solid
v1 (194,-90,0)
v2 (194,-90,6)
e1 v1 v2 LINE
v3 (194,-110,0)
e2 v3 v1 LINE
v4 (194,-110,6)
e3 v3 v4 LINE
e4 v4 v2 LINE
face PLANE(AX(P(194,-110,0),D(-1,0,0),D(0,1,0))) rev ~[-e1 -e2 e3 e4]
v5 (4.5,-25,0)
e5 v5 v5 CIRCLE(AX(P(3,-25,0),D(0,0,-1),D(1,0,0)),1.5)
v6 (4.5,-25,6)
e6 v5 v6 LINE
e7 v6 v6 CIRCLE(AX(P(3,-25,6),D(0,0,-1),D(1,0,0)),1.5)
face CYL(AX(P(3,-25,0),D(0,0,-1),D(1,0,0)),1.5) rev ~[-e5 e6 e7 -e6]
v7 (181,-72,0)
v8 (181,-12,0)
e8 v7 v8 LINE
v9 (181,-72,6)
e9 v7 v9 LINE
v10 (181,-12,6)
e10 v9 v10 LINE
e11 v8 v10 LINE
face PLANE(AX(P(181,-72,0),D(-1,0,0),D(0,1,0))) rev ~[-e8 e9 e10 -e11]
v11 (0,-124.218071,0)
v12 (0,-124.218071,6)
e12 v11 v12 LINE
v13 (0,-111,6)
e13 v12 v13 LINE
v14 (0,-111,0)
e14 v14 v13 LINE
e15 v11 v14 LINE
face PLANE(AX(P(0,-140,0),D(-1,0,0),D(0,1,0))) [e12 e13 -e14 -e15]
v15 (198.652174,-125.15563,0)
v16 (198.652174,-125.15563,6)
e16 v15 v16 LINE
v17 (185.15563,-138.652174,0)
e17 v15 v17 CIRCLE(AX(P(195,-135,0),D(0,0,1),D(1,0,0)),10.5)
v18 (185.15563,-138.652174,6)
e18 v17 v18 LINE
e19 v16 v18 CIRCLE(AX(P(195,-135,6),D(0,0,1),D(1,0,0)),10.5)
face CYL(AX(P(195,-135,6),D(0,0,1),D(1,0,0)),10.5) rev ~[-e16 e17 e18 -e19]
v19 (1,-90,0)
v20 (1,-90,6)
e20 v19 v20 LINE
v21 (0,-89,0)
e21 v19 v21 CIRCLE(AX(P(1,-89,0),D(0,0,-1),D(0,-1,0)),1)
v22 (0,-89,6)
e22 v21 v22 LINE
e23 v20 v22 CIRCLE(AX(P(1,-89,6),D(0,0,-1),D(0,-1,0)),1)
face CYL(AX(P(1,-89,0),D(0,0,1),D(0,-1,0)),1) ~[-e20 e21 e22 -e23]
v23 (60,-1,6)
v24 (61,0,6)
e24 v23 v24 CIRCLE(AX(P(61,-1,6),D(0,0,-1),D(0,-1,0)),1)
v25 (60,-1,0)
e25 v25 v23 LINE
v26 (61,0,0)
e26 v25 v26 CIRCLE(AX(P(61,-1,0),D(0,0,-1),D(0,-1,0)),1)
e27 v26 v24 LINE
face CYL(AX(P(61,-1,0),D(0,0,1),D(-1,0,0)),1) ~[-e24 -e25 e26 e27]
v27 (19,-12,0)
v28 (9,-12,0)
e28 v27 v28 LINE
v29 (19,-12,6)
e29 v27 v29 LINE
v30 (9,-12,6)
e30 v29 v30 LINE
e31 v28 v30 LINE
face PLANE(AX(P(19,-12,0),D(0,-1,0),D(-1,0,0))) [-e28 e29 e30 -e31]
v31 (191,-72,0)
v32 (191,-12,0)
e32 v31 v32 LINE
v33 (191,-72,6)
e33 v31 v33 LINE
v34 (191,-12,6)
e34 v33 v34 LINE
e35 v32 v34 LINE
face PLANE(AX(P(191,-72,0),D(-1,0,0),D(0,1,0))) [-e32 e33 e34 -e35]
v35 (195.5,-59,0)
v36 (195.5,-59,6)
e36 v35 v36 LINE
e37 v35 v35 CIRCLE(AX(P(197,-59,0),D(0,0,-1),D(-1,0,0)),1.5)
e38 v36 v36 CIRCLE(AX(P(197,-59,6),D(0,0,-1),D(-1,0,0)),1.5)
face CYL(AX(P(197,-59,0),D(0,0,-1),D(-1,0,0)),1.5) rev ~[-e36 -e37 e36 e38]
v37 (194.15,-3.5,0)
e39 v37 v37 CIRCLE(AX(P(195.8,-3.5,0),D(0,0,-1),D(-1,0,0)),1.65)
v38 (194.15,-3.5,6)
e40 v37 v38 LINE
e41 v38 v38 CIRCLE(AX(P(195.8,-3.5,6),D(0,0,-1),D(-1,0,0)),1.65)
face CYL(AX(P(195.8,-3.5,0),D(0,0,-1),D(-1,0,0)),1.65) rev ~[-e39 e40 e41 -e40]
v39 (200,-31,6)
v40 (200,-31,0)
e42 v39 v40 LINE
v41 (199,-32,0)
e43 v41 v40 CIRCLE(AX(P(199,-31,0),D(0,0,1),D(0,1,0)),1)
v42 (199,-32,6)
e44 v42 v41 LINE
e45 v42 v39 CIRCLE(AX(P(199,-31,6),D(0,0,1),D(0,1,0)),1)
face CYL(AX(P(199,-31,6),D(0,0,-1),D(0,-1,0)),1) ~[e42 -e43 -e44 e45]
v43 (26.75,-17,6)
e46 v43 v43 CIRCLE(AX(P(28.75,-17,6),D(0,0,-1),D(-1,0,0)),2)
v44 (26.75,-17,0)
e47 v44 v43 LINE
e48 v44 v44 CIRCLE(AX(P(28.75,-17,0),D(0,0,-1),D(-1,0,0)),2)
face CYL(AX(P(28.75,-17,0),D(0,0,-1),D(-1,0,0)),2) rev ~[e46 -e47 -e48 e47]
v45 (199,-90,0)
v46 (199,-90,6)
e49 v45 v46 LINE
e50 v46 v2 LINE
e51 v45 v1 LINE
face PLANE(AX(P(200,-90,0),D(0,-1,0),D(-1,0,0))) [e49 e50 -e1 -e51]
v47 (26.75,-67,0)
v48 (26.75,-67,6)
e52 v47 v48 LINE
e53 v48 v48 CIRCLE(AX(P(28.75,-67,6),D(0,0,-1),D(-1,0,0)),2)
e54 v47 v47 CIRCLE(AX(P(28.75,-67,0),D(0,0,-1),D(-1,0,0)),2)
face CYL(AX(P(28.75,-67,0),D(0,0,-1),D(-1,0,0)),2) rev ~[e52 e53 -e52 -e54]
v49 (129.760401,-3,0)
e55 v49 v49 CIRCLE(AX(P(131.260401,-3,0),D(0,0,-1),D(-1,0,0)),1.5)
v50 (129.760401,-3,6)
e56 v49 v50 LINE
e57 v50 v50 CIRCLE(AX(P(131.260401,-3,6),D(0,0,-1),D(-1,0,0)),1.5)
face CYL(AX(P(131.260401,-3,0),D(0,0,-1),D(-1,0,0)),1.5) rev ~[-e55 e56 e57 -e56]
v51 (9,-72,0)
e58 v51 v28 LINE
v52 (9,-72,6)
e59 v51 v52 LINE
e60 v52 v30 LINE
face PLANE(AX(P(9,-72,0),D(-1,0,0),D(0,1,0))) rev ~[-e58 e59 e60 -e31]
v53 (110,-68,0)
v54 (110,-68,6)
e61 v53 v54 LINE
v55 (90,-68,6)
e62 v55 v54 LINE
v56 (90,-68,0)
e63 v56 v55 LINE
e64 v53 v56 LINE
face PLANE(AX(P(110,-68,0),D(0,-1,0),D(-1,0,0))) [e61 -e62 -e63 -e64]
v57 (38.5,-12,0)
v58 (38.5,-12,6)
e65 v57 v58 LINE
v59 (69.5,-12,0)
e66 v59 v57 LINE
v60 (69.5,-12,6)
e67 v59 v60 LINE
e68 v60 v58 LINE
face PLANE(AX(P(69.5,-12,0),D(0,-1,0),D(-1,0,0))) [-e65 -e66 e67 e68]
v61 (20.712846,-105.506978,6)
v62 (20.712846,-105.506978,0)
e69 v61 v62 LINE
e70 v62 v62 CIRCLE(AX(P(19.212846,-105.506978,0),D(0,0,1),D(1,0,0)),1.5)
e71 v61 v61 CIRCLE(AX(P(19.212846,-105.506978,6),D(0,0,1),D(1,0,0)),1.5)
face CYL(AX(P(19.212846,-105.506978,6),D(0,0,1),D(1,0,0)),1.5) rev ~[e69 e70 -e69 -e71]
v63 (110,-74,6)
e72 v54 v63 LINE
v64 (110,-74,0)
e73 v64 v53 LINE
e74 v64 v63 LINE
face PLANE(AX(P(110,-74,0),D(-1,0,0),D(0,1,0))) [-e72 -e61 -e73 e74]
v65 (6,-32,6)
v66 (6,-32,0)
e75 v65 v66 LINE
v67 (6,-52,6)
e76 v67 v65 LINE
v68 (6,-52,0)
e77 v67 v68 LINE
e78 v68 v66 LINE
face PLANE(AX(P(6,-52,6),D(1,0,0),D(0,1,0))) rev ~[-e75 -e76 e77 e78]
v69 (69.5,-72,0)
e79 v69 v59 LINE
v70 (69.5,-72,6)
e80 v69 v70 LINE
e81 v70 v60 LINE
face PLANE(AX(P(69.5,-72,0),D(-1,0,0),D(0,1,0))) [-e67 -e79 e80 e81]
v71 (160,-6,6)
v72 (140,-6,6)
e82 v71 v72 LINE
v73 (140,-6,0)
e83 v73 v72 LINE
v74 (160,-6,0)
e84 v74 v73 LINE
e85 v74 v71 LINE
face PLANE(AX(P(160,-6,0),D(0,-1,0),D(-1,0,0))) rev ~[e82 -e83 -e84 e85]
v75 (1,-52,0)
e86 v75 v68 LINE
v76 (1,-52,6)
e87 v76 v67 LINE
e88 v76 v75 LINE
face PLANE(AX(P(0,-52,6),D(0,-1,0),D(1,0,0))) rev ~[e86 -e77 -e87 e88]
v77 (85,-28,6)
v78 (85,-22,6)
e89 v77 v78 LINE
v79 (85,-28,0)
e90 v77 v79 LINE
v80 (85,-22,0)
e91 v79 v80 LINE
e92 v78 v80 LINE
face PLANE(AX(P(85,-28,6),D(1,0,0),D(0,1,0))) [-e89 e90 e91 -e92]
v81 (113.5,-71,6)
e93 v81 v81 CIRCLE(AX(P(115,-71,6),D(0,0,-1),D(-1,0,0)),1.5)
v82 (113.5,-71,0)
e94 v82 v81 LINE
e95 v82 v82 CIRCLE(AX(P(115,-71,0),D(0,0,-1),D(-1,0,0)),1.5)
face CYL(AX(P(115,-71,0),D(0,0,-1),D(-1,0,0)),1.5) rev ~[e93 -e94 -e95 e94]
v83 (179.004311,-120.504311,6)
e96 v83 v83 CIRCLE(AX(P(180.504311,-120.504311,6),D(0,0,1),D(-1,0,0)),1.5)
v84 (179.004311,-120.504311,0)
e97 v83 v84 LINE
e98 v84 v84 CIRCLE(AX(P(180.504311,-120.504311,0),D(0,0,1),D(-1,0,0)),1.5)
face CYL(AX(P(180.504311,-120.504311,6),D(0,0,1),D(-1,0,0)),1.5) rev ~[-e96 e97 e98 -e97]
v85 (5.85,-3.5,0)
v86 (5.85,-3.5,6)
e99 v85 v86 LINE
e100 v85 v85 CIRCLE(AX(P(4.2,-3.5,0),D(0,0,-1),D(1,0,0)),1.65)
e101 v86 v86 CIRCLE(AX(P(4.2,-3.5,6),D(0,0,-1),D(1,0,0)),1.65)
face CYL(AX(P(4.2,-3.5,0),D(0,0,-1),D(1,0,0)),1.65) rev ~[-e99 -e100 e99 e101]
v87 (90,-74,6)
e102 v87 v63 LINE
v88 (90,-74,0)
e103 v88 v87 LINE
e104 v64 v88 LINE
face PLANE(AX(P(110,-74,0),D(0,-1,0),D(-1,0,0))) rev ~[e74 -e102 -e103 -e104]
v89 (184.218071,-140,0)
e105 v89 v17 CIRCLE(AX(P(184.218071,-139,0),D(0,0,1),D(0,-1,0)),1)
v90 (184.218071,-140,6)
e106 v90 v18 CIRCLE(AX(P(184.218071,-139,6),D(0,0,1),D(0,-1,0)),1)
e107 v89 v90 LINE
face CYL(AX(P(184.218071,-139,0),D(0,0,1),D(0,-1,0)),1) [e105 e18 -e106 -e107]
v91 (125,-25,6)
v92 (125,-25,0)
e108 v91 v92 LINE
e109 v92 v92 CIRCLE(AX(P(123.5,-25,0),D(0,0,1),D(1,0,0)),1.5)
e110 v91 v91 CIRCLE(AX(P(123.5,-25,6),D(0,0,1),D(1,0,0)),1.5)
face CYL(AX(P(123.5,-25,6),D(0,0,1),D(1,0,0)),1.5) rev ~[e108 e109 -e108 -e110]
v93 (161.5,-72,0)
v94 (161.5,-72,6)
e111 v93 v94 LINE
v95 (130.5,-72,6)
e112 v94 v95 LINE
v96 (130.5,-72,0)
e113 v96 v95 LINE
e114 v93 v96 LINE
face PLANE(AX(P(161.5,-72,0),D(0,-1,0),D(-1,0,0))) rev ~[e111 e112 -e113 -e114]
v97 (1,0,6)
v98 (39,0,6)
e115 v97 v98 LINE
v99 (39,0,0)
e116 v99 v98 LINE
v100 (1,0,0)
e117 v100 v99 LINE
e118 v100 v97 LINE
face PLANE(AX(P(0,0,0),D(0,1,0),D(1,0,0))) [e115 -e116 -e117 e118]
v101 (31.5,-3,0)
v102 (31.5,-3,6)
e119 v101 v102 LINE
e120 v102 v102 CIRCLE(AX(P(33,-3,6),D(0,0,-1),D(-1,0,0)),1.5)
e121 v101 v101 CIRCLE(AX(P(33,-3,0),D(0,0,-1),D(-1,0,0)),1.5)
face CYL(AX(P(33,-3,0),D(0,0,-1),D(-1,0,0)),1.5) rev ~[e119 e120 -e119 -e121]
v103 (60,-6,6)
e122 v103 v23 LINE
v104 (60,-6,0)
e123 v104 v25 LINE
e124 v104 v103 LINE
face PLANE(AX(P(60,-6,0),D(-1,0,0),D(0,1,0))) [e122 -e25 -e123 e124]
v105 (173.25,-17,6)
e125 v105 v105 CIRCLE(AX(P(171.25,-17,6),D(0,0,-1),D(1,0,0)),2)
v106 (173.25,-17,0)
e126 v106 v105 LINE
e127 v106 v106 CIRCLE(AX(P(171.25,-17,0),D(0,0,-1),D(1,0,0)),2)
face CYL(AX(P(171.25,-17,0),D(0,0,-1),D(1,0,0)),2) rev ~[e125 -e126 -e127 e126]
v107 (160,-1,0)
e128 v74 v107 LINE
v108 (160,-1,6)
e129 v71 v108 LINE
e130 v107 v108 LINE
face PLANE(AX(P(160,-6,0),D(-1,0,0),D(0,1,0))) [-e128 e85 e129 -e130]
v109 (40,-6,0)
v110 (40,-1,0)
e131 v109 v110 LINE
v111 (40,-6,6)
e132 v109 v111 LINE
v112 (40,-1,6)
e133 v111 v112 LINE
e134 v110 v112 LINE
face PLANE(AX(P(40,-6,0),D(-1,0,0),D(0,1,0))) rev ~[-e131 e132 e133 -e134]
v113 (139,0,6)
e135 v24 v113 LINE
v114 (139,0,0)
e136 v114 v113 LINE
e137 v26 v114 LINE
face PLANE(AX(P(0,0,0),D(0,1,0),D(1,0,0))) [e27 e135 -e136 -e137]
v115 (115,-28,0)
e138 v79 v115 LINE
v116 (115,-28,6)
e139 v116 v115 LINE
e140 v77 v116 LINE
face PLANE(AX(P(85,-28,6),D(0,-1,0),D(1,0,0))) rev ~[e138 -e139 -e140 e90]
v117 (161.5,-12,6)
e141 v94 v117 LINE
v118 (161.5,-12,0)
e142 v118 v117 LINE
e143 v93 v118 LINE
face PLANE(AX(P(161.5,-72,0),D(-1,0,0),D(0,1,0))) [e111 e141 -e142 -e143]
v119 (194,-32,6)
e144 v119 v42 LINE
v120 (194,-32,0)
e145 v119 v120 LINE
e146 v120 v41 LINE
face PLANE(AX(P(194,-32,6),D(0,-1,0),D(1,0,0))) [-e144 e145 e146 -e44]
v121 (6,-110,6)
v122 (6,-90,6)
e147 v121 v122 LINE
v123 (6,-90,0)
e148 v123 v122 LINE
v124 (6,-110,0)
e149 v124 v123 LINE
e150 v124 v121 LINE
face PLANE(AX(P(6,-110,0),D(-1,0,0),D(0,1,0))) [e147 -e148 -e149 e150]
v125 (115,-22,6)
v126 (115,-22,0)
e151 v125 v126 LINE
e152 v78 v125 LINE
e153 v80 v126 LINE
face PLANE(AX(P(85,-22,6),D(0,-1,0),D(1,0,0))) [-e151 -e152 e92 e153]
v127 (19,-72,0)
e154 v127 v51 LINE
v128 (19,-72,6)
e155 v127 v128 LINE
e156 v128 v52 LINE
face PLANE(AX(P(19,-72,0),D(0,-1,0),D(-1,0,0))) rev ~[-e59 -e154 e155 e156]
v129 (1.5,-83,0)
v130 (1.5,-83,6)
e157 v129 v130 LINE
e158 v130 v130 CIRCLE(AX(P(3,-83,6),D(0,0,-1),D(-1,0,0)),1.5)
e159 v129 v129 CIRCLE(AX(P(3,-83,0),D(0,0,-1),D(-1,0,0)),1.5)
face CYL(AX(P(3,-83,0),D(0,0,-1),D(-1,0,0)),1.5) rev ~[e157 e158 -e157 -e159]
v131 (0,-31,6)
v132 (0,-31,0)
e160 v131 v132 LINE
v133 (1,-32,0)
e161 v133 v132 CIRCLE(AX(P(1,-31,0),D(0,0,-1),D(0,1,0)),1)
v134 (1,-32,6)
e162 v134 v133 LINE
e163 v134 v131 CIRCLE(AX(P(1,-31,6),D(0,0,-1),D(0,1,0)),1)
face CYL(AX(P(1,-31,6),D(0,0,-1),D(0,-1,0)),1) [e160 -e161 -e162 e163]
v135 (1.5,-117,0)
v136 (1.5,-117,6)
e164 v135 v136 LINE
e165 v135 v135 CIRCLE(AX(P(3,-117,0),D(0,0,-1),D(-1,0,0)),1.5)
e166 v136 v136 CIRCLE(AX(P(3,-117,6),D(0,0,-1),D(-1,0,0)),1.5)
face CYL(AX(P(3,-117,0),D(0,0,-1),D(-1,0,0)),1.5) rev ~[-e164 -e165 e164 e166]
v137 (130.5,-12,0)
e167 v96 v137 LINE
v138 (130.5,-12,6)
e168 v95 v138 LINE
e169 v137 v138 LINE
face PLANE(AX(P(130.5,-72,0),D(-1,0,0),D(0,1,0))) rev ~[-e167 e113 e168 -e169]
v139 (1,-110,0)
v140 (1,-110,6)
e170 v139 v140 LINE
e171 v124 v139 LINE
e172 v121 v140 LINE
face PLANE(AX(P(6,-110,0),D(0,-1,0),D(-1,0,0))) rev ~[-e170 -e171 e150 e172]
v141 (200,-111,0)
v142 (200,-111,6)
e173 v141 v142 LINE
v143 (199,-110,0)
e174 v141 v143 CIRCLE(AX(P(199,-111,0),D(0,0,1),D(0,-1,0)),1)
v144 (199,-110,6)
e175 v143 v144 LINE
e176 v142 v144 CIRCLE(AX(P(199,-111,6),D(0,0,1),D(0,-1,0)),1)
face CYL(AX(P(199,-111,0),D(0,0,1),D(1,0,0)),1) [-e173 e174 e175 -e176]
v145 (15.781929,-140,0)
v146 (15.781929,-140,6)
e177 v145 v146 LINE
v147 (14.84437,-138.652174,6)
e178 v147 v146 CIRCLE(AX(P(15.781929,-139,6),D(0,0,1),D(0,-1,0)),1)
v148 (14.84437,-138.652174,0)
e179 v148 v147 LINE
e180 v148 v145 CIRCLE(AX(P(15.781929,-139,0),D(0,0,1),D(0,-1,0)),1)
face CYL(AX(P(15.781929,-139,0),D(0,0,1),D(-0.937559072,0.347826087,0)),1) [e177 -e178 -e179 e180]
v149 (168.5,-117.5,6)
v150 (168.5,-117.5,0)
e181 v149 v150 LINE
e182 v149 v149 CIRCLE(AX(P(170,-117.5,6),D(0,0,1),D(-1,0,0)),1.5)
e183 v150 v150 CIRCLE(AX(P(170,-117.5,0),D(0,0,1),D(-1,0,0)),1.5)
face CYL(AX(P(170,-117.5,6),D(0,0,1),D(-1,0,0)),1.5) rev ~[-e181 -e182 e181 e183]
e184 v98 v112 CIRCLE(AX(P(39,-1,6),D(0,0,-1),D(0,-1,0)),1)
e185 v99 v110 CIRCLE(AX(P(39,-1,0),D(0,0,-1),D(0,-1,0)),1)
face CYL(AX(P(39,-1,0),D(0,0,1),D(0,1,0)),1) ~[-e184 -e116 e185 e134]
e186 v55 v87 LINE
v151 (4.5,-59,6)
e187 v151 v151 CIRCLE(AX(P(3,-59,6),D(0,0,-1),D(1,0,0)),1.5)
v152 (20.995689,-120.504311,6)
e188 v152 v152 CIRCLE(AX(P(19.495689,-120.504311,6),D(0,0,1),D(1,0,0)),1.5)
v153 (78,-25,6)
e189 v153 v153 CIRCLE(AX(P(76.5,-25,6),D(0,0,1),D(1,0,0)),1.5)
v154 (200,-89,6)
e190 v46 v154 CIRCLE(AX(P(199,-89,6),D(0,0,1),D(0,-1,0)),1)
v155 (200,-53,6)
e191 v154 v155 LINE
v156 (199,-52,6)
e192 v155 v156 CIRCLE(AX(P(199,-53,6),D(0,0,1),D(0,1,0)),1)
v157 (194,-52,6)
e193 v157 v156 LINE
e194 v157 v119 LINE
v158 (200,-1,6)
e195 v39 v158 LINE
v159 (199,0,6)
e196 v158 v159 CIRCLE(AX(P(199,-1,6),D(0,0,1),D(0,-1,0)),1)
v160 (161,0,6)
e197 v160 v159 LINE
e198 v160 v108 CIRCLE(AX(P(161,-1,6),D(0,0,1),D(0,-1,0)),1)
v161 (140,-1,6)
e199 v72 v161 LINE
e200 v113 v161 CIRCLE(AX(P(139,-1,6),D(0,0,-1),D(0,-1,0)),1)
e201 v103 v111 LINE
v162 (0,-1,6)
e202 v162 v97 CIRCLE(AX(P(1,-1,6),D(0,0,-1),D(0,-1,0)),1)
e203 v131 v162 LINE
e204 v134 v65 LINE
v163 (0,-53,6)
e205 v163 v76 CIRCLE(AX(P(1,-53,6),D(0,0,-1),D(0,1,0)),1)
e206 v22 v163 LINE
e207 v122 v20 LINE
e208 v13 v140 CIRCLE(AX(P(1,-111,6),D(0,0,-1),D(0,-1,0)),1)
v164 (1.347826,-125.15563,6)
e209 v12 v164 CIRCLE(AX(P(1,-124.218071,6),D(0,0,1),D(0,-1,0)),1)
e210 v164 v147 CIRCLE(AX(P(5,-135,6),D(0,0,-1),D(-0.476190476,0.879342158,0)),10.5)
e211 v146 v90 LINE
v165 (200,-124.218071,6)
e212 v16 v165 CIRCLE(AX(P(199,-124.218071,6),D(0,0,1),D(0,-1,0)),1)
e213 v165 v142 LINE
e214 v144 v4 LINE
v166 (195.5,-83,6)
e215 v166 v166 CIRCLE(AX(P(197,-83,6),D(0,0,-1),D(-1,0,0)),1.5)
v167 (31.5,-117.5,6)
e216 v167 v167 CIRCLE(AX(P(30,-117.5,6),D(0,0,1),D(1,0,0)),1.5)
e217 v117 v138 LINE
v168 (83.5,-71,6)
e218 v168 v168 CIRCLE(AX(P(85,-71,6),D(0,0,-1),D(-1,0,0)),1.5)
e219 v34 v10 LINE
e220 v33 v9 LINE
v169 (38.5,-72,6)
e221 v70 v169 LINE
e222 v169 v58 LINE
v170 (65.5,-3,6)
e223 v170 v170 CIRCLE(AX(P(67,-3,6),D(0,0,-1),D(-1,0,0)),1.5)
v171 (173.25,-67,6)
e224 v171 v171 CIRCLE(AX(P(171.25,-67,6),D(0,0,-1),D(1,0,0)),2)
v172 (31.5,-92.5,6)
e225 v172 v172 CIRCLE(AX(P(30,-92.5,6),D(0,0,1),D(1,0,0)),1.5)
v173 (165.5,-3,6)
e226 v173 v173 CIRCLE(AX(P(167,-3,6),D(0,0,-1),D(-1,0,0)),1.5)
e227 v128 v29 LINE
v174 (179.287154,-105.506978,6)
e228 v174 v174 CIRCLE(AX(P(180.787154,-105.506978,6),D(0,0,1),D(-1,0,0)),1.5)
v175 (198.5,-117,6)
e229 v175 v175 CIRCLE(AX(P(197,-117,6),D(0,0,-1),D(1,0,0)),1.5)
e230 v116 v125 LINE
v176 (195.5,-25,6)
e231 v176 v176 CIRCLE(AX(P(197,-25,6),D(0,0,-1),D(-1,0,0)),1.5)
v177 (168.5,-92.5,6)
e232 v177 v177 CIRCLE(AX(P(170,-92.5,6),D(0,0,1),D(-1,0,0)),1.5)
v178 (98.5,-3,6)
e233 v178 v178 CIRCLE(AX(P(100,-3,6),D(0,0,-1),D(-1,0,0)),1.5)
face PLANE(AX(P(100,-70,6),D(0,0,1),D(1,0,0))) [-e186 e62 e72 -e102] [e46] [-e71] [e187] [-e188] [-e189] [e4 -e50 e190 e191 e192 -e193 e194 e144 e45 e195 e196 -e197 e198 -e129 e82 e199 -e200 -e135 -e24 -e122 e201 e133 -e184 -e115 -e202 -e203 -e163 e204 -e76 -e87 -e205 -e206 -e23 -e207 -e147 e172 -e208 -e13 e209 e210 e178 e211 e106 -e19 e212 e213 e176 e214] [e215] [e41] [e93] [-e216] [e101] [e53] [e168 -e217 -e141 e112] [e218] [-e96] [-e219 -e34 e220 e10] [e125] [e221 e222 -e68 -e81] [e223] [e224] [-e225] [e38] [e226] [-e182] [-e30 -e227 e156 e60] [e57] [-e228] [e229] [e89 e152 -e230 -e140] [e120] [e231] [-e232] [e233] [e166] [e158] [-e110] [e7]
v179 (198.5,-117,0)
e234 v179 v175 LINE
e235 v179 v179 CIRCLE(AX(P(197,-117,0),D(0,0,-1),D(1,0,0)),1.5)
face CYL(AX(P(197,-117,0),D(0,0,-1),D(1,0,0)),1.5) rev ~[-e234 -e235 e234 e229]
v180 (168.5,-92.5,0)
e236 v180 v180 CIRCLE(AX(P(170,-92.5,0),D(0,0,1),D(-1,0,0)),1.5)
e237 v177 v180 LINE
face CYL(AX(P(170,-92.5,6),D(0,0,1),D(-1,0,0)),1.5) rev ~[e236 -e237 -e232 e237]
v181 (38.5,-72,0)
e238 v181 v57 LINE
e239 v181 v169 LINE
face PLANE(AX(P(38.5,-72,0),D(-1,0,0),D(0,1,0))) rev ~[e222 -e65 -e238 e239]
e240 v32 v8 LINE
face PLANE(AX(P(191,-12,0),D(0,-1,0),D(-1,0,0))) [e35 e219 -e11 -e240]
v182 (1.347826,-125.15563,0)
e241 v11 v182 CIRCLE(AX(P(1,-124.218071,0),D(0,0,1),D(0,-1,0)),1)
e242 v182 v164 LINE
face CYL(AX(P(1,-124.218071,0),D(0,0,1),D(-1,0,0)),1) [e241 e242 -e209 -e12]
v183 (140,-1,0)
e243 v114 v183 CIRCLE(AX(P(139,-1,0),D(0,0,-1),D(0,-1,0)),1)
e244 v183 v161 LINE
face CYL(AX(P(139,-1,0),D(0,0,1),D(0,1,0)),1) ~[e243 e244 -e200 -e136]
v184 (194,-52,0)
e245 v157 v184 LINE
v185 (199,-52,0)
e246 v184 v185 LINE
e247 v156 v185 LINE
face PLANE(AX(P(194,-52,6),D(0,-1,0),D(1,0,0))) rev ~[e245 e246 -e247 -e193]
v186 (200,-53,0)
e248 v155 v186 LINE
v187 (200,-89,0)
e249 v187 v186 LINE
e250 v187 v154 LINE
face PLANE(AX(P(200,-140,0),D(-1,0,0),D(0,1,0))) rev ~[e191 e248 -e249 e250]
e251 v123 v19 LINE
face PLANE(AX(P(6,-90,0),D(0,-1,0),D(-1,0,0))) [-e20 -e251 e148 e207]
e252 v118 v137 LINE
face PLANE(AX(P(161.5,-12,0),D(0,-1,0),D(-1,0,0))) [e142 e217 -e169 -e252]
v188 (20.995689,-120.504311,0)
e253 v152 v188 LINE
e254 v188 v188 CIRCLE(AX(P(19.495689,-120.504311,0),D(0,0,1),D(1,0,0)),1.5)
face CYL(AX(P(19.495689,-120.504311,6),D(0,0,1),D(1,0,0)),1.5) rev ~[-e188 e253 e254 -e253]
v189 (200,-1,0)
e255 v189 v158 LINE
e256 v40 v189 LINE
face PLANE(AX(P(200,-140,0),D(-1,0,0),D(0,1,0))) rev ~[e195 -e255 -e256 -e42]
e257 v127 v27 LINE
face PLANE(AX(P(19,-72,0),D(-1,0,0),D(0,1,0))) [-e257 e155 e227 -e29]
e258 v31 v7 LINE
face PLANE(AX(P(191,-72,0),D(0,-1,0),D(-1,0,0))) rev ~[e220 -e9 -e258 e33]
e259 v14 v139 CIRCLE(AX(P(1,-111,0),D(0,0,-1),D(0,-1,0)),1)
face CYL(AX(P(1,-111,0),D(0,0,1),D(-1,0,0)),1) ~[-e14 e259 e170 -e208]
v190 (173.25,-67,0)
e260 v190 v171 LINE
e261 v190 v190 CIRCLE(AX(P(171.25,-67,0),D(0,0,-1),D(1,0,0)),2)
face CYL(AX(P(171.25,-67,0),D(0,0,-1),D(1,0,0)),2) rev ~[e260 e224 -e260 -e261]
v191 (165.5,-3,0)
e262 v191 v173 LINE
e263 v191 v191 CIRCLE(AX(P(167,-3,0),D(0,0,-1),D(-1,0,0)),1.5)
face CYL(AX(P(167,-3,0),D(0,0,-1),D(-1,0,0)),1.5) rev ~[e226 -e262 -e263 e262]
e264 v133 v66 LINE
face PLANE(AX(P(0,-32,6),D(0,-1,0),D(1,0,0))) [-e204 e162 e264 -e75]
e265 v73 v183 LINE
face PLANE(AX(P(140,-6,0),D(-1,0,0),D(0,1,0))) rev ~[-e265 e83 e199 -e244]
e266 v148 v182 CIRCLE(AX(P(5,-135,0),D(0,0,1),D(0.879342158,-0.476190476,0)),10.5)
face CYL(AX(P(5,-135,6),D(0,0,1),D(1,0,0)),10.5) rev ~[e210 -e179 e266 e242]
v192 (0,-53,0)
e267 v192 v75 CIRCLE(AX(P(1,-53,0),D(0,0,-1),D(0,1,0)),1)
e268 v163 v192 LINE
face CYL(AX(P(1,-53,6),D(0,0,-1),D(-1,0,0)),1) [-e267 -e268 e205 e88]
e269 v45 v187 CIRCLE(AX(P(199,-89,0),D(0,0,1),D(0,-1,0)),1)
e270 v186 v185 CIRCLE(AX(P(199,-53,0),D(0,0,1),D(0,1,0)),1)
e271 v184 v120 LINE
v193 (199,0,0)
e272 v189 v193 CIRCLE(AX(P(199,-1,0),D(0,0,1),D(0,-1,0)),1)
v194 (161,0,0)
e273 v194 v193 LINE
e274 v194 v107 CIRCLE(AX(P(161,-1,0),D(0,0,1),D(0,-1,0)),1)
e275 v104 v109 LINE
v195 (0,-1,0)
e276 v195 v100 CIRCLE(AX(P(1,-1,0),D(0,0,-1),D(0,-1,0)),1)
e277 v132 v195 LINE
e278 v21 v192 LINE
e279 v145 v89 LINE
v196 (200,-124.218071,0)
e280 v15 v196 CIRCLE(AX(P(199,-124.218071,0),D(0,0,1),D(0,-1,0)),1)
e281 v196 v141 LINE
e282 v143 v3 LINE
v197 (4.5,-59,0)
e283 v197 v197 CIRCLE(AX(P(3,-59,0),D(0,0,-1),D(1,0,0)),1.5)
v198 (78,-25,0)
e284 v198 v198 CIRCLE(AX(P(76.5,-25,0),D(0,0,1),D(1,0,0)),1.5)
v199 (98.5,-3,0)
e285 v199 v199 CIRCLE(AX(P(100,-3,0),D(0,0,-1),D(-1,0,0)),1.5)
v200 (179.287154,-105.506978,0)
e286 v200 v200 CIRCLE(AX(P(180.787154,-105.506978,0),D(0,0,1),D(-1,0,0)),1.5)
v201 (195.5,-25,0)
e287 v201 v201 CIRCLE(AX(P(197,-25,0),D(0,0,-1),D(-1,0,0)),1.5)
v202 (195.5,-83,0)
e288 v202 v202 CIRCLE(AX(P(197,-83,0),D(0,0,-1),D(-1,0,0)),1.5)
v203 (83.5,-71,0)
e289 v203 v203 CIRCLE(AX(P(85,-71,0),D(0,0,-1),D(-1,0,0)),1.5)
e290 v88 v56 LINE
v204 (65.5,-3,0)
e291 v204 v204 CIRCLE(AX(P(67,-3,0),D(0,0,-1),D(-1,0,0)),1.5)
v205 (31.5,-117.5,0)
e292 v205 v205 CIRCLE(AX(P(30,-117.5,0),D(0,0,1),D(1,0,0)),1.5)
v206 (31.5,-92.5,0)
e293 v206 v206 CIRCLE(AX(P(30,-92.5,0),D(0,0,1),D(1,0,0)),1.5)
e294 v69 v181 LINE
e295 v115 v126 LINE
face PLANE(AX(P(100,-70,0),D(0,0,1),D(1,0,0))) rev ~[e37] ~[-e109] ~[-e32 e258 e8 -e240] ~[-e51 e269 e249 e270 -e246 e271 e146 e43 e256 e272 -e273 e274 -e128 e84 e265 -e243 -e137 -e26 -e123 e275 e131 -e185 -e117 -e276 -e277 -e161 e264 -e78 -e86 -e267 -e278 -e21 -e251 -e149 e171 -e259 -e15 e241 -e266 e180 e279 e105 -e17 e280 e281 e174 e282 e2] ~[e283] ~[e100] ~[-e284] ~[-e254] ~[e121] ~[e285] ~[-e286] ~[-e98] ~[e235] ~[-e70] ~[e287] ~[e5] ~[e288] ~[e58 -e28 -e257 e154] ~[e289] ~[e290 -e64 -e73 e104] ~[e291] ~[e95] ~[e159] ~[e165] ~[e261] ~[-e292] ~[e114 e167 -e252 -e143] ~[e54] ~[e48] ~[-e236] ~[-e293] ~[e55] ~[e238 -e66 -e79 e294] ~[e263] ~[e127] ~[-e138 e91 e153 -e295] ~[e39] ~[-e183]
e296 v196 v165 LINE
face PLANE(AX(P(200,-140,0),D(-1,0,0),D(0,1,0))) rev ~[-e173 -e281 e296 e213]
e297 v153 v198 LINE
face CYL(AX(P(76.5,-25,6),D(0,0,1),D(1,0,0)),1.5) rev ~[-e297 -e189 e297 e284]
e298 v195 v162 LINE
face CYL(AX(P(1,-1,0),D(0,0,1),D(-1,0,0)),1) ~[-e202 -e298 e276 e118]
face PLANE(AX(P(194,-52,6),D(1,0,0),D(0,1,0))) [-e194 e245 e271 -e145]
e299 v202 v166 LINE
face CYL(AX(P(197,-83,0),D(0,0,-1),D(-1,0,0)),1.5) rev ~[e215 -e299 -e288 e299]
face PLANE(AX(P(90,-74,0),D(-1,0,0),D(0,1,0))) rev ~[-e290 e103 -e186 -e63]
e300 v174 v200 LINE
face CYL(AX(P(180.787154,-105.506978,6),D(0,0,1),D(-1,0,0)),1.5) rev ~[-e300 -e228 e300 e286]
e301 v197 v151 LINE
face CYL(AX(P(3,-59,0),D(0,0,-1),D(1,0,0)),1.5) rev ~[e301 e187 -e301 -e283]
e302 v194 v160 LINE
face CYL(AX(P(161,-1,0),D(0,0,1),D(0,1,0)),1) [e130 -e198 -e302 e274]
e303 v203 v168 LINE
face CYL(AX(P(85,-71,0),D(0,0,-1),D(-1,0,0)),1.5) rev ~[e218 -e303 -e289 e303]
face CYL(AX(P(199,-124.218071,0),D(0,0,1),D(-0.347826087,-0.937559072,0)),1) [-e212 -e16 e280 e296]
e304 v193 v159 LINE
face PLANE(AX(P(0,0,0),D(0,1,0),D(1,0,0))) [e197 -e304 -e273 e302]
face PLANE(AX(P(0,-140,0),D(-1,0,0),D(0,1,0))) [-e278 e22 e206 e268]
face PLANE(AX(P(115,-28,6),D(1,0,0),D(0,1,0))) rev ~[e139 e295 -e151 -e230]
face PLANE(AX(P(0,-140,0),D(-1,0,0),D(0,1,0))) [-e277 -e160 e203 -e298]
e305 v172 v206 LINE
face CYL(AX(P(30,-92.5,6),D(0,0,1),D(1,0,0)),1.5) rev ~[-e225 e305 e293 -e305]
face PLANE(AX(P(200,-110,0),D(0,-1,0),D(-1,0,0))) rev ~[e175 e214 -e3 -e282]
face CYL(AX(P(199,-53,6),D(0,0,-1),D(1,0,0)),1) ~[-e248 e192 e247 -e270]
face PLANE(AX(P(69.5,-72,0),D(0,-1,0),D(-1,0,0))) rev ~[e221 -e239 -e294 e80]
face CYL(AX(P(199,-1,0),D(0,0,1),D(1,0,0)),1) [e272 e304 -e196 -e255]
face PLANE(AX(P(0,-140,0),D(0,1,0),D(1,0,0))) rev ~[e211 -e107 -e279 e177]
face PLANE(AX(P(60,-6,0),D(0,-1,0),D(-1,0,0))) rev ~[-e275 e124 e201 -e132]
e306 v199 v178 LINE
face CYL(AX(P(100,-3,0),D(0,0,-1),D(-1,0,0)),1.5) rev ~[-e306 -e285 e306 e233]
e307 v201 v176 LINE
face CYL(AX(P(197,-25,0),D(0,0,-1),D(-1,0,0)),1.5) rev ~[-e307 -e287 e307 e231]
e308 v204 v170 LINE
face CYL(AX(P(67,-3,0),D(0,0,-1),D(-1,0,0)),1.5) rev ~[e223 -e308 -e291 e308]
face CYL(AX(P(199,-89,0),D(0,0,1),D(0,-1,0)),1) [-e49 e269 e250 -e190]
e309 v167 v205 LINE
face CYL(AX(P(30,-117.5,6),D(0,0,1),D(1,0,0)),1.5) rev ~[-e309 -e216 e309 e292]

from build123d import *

# Parameters (mm, degrees)
ESQUISSE1_W              = 200
ESQUISSE1_H              = 140
BOSS_EXTRU_1_DEPTH       = 6
ESQUISSE8_W              = 31
ESQUISSE8_H              = 60
ESQUISSE8_W_2            = 10
ENL_V_MAT_EXTRU_2_DEPTH  = 6
ESQUISSE9_W              = 20
ESQUISSE9_H              = 6
ENL_V_MAT_EXTRU_3_DEPTH  = 6
ESQUISSE10_W             = 6
ESQUISSE10_H             = 20
ENL_V_MAT_EXTRU_4_DEPTH  = 6
ESQUISSE14_W             = 30
ESQUISSE14_H             = 6
ENL_V_MAT_EXTRU_7_DEPTH  = 6
ESQUISSE15_R             = 10.5
ENL_V_MAT_EXTRU_8_DEPTH  = 6
ESQUISSE19_R             = 2
ENL_V_MAT_EXTRU_11_DEPTH = 245.204832057
ESQUISSE20_R             = 1.5
ENL_V_MAT_EXTRU_12_DEPTH = 245.204832057
ESQUISSE21_R             = 1.5
ESQUISSE21_W             = 20
ESQUISSE21_H             = 6
ENL_V_MAT_EXTRU_13_DEPTH = 10
ESQUISSE23_R             = 1.65
ENL_V_MAT_EXTRU_15_DEPTH = 6
ESQUISSE16_R             = 1.5
ENL_V_MAT_EXTRU_9_DEPTH  = 6
ESQUISSE28_W             = 6
ESQUISSE28_H             = 20
ENL_V_MAT_EXTRU_17_DEPTH = 245.204832057
ESQUISSE29_R             = 1.5
ENL_V_MAT_EXTRU_18_DEPTH = 245.204832057
ESQUISSE35_R             = 1.5
ENL_V_MAT_EXTRU_21_DEPTH = 6
CONG_1_R                 = 1


with BuildPart() as part:
    # Esquisse1 → Boss.-Extru.1 (new body)
    with BuildSketch(Plane.XY):
        with Locations((100, -70)):
            Rectangle(ESQUISSE1_W, ESQUISSE1_H)
    extrude(amount=BOSS_EXTRU_1_DEPTH)

    # Esquisse8 → Enlèv. mat.-Extru.2 (cut)
    with BuildSketch(Plane(origin=(0, 0, 0), x_dir=(-1, 0, 0), z_dir=(0, 0, -1))):
        with Locations((-146, -42)):
            Rectangle(ESQUISSE8_W, ESQUISSE8_H)
        with Locations((-186, -42)):
            Rectangle(ESQUISSE8_W_2, ESQUISSE8_H)
        with Locations((-14, -42)):
            Rectangle(ESQUISSE8_W_2, ESQUISSE8_H)
        with Locations((-54, -42)):
            Rectangle(ESQUISSE8_W, ESQUISSE8_H)
    extrude(amount=-ENL_V_MAT_EXTRU_2_DEPTH, mode=Mode.SUBTRACT)

    # Esquisse9 → Enlèv. mat.-Extru.3 (cut)
    with BuildSketch(Plane(origin=(0, 0, 0), x_dir=(-1, 0, 0), z_dir=(0, 0, -1))):
        with Locations((-150, -3)):
            Rectangle(ESQUISSE9_W, ESQUISSE9_H)
        with Locations((-50, -3)):
            Rectangle(ESQUISSE9_W, ESQUISSE9_H)
    extrude(amount=-ENL_V_MAT_EXTRU_3_DEPTH, mode=Mode.SUBTRACT)

    # Esquisse10 → Enlèv. mat.-Extru.4 (cut)
    with BuildSketch(Plane(origin=(0, 0, 0), x_dir=(-1, 0, 0), z_dir=(0, 0, -1))):
        with Locations((-197, -100)):
            Rectangle(ESQUISSE10_W, ESQUISSE10_H)
        with Locations((-3, -100)):
            Rectangle(ESQUISSE10_W, ESQUISSE10_H)
    extrude(amount=-ENL_V_MAT_EXTRU_4_DEPTH, mode=Mode.SUBTRACT)

    # Esquisse14 → Enlèv. mat.-Extru.7 (cut)
    with BuildSketch(Plane.XY.offset(6)):
        with Locations((100, -25)):
            Rectangle(ESQUISSE14_W, ESQUISSE14_H)
    extrude(amount=-ENL_V_MAT_EXTRU_7_DEPTH, mode=Mode.SUBTRACT)

    # Esquisse15 → Enlèv. mat.-Extru.8 (cut)
    with BuildSketch(Plane.XY.offset(6)):
        with Locations((195, -135)):
            Circle(ESQUISSE15_R)
        with Locations((5, -135)):
            Circle(ESQUISSE15_R)
    extrude(amount=-ENL_V_MAT_EXTRU_8_DEPTH, mode=Mode.SUBTRACT)

    # Esquisse19 → Enlèv. mat.-Extru.11 (cut, through all)
    with BuildSketch(Plane(origin=(0, 0, 0), x_dir=(-1, 0, 0), z_dir=(0, 0, -1))):
        with Locations((-28.75, -67)):
            Circle(ESQUISSE19_R)
        with Locations((-28.75, -17)):
            Circle(ESQUISSE19_R)
        with Locations((-171.25, -17)):
            Circle(ESQUISSE19_R)
        with Locations((-171.25, -67)):
            Circle(ESQUISSE19_R)
    extrude(amount=-ENL_V_MAT_EXTRU_11_DEPTH, mode=Mode.SUBTRACT)

    # Esquisse20 → Enlèv. mat.-Extru.12 (cut, through all)
    with BuildSketch(Plane.XY.offset(6)):
        with Locations((19.495689014, -120.504310986)):
            Circle(ESQUISSE20_R)
        with Locations((19.212846302, -105.506977889)):
            Circle(ESQUISSE20_R)
        with Locations((180.787153698, -105.506977889)):
            Circle(ESQUISSE20_R)
        with Locations((30, -117.5)):
            Circle(ESQUISSE20_R)
        with Locations((30, -92.5)):
            Circle(ESQUISSE20_R)
        with Locations((180.504310986, -120.504310986)):
            Circle(ESQUISSE20_R)
        with Locations((170, -92.5)):
            Circle(ESQUISSE20_R)
        with Locations((170, -117.5)):
            Circle(ESQUISSE20_R)
        with Locations((76.5, -25)):
            Circle(ESQUISSE20_R)
        with Locations((123.5, -25)):
            Circle(ESQUISSE20_R)
    extrude(amount=-ENL_V_MAT_EXTRU_12_DEPTH, mode=Mode.SUBTRACT)

    # Esquisse21 → Enlèv. mat.-Extru.13 (cut)
    with BuildSketch(Plane(origin=(0, 0, 0), x_dir=(-1, 0, 0), z_dir=(0, 0, -1))):
        with Locations((-85, -71)):
            Circle(ESQUISSE21_R)
        with Locations((-115, -71)):
            Circle(ESQUISSE21_R)
        with Locations((-100, -71)):
            Rectangle(ESQUISSE21_W, ESQUISSE21_H)
    extrude(amount=-ENL_V_MAT_EXTRU_13_DEPTH, mode=Mode.SUBTRACT)

    # Esquisse23 → Enlèv. mat.-Extru.15 (cut)
    with BuildSketch(Plane(origin=(0, 0, 0), x_dir=(-1, 0, 0), z_dir=(0, 0, -1))):
        with Locations((-4.2, -3.5)):
            Circle(ESQUISSE23_R)
        with Locations((-195.8, -3.5)):
            Circle(ESQUISSE23_R)
    extrude(amount=-ENL_V_MAT_EXTRU_15_DEPTH, mode=Mode.SUBTRACT)

    # Esquisse16 → Enlèv. mat.-Extru.9 (cut)
    with BuildSketch(Plane(origin=(0, 0, 0), x_dir=(-1, 0, 0), z_dir=(0, 0, -1))):
        with Locations((-3, -83)):
            Circle(ESQUISSE16_R)
        with Locations((-197, -117)):
            Circle(ESQUISSE16_R)
        with Locations((-197, -83)):
            Circle(ESQUISSE16_R)
        with Locations((-3, -117)):
            Circle(ESQUISSE16_R)
    extrude(amount=-ENL_V_MAT_EXTRU_9_DEPTH, mode=Mode.SUBTRACT)

    # Esquisse28 → Enlèv. mat.-Extru.17 (cut, through all)
    with BuildSketch(Plane.XY.offset(6)):
        with Locations((3, -42)):
            Rectangle(ESQUISSE28_W, ESQUISSE28_H)
        with Locations((197, -42)):
            Rectangle(ESQUISSE28_W, ESQUISSE28_H)
    extrude(amount=-ENL_V_MAT_EXTRU_17_DEPTH, mode=Mode.SUBTRACT)

    # Esquisse29 → Enlèv. mat.-Extru.18 (cut, through all)
    with BuildSketch(Plane(origin=(0, 0, 0), x_dir=(-1, 0, 0), z_dir=(0, 0, -1))):
        with Locations((-197, -25)):
            Circle(ESQUISSE29_R)
        with Locations((-197, -59)):
            Circle(ESQUISSE29_R)
        with Locations((-3, -59)):
            Circle(ESQUISSE29_R)
        with Locations((-3, -25)):
            Circle(ESQUISSE29_R)
    extrude(amount=-ENL_V_MAT_EXTRU_18_DEPTH, mode=Mode.SUBTRACT)

    # Esquisse35 → Enlèv. mat.-Extru.21 (cut)
    with BuildSketch(Plane(origin=(0, 0, 0), x_dir=(-1, 0, 0), z_dir=(0, 0, -1))):
        with Locations((-167, -3)):
            Circle(ESQUISSE35_R)
        with Locations((-131.260401336, -3)):
            Circle(ESQUISSE35_R)
        with Locations((-100, -3)):
            Circle(ESQUISSE35_R)
        with Locations((-67, -3)):
            Circle(ESQUISSE35_R)
        with Locations((-33, -3)):
            Circle(ESQUISSE35_R)
    extrude(amount=-ENL_V_MAT_EXTRU_21_DEPTH, mode=Mode.SUBTRACT)

    # Congé1
    cong_1_edges = [part.edges().sort_by_distance(p)[0] for p in [
        (14.233092656, -140, 3),
        (0, -125.766907344, 3),
        (0, -110, 3),
        (0, -90, 3),
        (0, -52, 3),
        (0, -32, 3),
        (0, 0, 3),
        (40, 0, 3),
        (60, 0, 3),
        (140, 0, 3),
        (160, 0, 3),
        (200, 0, 3),
        (200, -32, 3),
        (200, -52, 3),
        (200, -110, 3),
        (200, -90, 3),
        (185.766907344, -140, 3),
        (200, -125.766907344, 3),
    ]]
    fillet(cong_1_edges, radius=CONG_1_R)


solid = part.part
